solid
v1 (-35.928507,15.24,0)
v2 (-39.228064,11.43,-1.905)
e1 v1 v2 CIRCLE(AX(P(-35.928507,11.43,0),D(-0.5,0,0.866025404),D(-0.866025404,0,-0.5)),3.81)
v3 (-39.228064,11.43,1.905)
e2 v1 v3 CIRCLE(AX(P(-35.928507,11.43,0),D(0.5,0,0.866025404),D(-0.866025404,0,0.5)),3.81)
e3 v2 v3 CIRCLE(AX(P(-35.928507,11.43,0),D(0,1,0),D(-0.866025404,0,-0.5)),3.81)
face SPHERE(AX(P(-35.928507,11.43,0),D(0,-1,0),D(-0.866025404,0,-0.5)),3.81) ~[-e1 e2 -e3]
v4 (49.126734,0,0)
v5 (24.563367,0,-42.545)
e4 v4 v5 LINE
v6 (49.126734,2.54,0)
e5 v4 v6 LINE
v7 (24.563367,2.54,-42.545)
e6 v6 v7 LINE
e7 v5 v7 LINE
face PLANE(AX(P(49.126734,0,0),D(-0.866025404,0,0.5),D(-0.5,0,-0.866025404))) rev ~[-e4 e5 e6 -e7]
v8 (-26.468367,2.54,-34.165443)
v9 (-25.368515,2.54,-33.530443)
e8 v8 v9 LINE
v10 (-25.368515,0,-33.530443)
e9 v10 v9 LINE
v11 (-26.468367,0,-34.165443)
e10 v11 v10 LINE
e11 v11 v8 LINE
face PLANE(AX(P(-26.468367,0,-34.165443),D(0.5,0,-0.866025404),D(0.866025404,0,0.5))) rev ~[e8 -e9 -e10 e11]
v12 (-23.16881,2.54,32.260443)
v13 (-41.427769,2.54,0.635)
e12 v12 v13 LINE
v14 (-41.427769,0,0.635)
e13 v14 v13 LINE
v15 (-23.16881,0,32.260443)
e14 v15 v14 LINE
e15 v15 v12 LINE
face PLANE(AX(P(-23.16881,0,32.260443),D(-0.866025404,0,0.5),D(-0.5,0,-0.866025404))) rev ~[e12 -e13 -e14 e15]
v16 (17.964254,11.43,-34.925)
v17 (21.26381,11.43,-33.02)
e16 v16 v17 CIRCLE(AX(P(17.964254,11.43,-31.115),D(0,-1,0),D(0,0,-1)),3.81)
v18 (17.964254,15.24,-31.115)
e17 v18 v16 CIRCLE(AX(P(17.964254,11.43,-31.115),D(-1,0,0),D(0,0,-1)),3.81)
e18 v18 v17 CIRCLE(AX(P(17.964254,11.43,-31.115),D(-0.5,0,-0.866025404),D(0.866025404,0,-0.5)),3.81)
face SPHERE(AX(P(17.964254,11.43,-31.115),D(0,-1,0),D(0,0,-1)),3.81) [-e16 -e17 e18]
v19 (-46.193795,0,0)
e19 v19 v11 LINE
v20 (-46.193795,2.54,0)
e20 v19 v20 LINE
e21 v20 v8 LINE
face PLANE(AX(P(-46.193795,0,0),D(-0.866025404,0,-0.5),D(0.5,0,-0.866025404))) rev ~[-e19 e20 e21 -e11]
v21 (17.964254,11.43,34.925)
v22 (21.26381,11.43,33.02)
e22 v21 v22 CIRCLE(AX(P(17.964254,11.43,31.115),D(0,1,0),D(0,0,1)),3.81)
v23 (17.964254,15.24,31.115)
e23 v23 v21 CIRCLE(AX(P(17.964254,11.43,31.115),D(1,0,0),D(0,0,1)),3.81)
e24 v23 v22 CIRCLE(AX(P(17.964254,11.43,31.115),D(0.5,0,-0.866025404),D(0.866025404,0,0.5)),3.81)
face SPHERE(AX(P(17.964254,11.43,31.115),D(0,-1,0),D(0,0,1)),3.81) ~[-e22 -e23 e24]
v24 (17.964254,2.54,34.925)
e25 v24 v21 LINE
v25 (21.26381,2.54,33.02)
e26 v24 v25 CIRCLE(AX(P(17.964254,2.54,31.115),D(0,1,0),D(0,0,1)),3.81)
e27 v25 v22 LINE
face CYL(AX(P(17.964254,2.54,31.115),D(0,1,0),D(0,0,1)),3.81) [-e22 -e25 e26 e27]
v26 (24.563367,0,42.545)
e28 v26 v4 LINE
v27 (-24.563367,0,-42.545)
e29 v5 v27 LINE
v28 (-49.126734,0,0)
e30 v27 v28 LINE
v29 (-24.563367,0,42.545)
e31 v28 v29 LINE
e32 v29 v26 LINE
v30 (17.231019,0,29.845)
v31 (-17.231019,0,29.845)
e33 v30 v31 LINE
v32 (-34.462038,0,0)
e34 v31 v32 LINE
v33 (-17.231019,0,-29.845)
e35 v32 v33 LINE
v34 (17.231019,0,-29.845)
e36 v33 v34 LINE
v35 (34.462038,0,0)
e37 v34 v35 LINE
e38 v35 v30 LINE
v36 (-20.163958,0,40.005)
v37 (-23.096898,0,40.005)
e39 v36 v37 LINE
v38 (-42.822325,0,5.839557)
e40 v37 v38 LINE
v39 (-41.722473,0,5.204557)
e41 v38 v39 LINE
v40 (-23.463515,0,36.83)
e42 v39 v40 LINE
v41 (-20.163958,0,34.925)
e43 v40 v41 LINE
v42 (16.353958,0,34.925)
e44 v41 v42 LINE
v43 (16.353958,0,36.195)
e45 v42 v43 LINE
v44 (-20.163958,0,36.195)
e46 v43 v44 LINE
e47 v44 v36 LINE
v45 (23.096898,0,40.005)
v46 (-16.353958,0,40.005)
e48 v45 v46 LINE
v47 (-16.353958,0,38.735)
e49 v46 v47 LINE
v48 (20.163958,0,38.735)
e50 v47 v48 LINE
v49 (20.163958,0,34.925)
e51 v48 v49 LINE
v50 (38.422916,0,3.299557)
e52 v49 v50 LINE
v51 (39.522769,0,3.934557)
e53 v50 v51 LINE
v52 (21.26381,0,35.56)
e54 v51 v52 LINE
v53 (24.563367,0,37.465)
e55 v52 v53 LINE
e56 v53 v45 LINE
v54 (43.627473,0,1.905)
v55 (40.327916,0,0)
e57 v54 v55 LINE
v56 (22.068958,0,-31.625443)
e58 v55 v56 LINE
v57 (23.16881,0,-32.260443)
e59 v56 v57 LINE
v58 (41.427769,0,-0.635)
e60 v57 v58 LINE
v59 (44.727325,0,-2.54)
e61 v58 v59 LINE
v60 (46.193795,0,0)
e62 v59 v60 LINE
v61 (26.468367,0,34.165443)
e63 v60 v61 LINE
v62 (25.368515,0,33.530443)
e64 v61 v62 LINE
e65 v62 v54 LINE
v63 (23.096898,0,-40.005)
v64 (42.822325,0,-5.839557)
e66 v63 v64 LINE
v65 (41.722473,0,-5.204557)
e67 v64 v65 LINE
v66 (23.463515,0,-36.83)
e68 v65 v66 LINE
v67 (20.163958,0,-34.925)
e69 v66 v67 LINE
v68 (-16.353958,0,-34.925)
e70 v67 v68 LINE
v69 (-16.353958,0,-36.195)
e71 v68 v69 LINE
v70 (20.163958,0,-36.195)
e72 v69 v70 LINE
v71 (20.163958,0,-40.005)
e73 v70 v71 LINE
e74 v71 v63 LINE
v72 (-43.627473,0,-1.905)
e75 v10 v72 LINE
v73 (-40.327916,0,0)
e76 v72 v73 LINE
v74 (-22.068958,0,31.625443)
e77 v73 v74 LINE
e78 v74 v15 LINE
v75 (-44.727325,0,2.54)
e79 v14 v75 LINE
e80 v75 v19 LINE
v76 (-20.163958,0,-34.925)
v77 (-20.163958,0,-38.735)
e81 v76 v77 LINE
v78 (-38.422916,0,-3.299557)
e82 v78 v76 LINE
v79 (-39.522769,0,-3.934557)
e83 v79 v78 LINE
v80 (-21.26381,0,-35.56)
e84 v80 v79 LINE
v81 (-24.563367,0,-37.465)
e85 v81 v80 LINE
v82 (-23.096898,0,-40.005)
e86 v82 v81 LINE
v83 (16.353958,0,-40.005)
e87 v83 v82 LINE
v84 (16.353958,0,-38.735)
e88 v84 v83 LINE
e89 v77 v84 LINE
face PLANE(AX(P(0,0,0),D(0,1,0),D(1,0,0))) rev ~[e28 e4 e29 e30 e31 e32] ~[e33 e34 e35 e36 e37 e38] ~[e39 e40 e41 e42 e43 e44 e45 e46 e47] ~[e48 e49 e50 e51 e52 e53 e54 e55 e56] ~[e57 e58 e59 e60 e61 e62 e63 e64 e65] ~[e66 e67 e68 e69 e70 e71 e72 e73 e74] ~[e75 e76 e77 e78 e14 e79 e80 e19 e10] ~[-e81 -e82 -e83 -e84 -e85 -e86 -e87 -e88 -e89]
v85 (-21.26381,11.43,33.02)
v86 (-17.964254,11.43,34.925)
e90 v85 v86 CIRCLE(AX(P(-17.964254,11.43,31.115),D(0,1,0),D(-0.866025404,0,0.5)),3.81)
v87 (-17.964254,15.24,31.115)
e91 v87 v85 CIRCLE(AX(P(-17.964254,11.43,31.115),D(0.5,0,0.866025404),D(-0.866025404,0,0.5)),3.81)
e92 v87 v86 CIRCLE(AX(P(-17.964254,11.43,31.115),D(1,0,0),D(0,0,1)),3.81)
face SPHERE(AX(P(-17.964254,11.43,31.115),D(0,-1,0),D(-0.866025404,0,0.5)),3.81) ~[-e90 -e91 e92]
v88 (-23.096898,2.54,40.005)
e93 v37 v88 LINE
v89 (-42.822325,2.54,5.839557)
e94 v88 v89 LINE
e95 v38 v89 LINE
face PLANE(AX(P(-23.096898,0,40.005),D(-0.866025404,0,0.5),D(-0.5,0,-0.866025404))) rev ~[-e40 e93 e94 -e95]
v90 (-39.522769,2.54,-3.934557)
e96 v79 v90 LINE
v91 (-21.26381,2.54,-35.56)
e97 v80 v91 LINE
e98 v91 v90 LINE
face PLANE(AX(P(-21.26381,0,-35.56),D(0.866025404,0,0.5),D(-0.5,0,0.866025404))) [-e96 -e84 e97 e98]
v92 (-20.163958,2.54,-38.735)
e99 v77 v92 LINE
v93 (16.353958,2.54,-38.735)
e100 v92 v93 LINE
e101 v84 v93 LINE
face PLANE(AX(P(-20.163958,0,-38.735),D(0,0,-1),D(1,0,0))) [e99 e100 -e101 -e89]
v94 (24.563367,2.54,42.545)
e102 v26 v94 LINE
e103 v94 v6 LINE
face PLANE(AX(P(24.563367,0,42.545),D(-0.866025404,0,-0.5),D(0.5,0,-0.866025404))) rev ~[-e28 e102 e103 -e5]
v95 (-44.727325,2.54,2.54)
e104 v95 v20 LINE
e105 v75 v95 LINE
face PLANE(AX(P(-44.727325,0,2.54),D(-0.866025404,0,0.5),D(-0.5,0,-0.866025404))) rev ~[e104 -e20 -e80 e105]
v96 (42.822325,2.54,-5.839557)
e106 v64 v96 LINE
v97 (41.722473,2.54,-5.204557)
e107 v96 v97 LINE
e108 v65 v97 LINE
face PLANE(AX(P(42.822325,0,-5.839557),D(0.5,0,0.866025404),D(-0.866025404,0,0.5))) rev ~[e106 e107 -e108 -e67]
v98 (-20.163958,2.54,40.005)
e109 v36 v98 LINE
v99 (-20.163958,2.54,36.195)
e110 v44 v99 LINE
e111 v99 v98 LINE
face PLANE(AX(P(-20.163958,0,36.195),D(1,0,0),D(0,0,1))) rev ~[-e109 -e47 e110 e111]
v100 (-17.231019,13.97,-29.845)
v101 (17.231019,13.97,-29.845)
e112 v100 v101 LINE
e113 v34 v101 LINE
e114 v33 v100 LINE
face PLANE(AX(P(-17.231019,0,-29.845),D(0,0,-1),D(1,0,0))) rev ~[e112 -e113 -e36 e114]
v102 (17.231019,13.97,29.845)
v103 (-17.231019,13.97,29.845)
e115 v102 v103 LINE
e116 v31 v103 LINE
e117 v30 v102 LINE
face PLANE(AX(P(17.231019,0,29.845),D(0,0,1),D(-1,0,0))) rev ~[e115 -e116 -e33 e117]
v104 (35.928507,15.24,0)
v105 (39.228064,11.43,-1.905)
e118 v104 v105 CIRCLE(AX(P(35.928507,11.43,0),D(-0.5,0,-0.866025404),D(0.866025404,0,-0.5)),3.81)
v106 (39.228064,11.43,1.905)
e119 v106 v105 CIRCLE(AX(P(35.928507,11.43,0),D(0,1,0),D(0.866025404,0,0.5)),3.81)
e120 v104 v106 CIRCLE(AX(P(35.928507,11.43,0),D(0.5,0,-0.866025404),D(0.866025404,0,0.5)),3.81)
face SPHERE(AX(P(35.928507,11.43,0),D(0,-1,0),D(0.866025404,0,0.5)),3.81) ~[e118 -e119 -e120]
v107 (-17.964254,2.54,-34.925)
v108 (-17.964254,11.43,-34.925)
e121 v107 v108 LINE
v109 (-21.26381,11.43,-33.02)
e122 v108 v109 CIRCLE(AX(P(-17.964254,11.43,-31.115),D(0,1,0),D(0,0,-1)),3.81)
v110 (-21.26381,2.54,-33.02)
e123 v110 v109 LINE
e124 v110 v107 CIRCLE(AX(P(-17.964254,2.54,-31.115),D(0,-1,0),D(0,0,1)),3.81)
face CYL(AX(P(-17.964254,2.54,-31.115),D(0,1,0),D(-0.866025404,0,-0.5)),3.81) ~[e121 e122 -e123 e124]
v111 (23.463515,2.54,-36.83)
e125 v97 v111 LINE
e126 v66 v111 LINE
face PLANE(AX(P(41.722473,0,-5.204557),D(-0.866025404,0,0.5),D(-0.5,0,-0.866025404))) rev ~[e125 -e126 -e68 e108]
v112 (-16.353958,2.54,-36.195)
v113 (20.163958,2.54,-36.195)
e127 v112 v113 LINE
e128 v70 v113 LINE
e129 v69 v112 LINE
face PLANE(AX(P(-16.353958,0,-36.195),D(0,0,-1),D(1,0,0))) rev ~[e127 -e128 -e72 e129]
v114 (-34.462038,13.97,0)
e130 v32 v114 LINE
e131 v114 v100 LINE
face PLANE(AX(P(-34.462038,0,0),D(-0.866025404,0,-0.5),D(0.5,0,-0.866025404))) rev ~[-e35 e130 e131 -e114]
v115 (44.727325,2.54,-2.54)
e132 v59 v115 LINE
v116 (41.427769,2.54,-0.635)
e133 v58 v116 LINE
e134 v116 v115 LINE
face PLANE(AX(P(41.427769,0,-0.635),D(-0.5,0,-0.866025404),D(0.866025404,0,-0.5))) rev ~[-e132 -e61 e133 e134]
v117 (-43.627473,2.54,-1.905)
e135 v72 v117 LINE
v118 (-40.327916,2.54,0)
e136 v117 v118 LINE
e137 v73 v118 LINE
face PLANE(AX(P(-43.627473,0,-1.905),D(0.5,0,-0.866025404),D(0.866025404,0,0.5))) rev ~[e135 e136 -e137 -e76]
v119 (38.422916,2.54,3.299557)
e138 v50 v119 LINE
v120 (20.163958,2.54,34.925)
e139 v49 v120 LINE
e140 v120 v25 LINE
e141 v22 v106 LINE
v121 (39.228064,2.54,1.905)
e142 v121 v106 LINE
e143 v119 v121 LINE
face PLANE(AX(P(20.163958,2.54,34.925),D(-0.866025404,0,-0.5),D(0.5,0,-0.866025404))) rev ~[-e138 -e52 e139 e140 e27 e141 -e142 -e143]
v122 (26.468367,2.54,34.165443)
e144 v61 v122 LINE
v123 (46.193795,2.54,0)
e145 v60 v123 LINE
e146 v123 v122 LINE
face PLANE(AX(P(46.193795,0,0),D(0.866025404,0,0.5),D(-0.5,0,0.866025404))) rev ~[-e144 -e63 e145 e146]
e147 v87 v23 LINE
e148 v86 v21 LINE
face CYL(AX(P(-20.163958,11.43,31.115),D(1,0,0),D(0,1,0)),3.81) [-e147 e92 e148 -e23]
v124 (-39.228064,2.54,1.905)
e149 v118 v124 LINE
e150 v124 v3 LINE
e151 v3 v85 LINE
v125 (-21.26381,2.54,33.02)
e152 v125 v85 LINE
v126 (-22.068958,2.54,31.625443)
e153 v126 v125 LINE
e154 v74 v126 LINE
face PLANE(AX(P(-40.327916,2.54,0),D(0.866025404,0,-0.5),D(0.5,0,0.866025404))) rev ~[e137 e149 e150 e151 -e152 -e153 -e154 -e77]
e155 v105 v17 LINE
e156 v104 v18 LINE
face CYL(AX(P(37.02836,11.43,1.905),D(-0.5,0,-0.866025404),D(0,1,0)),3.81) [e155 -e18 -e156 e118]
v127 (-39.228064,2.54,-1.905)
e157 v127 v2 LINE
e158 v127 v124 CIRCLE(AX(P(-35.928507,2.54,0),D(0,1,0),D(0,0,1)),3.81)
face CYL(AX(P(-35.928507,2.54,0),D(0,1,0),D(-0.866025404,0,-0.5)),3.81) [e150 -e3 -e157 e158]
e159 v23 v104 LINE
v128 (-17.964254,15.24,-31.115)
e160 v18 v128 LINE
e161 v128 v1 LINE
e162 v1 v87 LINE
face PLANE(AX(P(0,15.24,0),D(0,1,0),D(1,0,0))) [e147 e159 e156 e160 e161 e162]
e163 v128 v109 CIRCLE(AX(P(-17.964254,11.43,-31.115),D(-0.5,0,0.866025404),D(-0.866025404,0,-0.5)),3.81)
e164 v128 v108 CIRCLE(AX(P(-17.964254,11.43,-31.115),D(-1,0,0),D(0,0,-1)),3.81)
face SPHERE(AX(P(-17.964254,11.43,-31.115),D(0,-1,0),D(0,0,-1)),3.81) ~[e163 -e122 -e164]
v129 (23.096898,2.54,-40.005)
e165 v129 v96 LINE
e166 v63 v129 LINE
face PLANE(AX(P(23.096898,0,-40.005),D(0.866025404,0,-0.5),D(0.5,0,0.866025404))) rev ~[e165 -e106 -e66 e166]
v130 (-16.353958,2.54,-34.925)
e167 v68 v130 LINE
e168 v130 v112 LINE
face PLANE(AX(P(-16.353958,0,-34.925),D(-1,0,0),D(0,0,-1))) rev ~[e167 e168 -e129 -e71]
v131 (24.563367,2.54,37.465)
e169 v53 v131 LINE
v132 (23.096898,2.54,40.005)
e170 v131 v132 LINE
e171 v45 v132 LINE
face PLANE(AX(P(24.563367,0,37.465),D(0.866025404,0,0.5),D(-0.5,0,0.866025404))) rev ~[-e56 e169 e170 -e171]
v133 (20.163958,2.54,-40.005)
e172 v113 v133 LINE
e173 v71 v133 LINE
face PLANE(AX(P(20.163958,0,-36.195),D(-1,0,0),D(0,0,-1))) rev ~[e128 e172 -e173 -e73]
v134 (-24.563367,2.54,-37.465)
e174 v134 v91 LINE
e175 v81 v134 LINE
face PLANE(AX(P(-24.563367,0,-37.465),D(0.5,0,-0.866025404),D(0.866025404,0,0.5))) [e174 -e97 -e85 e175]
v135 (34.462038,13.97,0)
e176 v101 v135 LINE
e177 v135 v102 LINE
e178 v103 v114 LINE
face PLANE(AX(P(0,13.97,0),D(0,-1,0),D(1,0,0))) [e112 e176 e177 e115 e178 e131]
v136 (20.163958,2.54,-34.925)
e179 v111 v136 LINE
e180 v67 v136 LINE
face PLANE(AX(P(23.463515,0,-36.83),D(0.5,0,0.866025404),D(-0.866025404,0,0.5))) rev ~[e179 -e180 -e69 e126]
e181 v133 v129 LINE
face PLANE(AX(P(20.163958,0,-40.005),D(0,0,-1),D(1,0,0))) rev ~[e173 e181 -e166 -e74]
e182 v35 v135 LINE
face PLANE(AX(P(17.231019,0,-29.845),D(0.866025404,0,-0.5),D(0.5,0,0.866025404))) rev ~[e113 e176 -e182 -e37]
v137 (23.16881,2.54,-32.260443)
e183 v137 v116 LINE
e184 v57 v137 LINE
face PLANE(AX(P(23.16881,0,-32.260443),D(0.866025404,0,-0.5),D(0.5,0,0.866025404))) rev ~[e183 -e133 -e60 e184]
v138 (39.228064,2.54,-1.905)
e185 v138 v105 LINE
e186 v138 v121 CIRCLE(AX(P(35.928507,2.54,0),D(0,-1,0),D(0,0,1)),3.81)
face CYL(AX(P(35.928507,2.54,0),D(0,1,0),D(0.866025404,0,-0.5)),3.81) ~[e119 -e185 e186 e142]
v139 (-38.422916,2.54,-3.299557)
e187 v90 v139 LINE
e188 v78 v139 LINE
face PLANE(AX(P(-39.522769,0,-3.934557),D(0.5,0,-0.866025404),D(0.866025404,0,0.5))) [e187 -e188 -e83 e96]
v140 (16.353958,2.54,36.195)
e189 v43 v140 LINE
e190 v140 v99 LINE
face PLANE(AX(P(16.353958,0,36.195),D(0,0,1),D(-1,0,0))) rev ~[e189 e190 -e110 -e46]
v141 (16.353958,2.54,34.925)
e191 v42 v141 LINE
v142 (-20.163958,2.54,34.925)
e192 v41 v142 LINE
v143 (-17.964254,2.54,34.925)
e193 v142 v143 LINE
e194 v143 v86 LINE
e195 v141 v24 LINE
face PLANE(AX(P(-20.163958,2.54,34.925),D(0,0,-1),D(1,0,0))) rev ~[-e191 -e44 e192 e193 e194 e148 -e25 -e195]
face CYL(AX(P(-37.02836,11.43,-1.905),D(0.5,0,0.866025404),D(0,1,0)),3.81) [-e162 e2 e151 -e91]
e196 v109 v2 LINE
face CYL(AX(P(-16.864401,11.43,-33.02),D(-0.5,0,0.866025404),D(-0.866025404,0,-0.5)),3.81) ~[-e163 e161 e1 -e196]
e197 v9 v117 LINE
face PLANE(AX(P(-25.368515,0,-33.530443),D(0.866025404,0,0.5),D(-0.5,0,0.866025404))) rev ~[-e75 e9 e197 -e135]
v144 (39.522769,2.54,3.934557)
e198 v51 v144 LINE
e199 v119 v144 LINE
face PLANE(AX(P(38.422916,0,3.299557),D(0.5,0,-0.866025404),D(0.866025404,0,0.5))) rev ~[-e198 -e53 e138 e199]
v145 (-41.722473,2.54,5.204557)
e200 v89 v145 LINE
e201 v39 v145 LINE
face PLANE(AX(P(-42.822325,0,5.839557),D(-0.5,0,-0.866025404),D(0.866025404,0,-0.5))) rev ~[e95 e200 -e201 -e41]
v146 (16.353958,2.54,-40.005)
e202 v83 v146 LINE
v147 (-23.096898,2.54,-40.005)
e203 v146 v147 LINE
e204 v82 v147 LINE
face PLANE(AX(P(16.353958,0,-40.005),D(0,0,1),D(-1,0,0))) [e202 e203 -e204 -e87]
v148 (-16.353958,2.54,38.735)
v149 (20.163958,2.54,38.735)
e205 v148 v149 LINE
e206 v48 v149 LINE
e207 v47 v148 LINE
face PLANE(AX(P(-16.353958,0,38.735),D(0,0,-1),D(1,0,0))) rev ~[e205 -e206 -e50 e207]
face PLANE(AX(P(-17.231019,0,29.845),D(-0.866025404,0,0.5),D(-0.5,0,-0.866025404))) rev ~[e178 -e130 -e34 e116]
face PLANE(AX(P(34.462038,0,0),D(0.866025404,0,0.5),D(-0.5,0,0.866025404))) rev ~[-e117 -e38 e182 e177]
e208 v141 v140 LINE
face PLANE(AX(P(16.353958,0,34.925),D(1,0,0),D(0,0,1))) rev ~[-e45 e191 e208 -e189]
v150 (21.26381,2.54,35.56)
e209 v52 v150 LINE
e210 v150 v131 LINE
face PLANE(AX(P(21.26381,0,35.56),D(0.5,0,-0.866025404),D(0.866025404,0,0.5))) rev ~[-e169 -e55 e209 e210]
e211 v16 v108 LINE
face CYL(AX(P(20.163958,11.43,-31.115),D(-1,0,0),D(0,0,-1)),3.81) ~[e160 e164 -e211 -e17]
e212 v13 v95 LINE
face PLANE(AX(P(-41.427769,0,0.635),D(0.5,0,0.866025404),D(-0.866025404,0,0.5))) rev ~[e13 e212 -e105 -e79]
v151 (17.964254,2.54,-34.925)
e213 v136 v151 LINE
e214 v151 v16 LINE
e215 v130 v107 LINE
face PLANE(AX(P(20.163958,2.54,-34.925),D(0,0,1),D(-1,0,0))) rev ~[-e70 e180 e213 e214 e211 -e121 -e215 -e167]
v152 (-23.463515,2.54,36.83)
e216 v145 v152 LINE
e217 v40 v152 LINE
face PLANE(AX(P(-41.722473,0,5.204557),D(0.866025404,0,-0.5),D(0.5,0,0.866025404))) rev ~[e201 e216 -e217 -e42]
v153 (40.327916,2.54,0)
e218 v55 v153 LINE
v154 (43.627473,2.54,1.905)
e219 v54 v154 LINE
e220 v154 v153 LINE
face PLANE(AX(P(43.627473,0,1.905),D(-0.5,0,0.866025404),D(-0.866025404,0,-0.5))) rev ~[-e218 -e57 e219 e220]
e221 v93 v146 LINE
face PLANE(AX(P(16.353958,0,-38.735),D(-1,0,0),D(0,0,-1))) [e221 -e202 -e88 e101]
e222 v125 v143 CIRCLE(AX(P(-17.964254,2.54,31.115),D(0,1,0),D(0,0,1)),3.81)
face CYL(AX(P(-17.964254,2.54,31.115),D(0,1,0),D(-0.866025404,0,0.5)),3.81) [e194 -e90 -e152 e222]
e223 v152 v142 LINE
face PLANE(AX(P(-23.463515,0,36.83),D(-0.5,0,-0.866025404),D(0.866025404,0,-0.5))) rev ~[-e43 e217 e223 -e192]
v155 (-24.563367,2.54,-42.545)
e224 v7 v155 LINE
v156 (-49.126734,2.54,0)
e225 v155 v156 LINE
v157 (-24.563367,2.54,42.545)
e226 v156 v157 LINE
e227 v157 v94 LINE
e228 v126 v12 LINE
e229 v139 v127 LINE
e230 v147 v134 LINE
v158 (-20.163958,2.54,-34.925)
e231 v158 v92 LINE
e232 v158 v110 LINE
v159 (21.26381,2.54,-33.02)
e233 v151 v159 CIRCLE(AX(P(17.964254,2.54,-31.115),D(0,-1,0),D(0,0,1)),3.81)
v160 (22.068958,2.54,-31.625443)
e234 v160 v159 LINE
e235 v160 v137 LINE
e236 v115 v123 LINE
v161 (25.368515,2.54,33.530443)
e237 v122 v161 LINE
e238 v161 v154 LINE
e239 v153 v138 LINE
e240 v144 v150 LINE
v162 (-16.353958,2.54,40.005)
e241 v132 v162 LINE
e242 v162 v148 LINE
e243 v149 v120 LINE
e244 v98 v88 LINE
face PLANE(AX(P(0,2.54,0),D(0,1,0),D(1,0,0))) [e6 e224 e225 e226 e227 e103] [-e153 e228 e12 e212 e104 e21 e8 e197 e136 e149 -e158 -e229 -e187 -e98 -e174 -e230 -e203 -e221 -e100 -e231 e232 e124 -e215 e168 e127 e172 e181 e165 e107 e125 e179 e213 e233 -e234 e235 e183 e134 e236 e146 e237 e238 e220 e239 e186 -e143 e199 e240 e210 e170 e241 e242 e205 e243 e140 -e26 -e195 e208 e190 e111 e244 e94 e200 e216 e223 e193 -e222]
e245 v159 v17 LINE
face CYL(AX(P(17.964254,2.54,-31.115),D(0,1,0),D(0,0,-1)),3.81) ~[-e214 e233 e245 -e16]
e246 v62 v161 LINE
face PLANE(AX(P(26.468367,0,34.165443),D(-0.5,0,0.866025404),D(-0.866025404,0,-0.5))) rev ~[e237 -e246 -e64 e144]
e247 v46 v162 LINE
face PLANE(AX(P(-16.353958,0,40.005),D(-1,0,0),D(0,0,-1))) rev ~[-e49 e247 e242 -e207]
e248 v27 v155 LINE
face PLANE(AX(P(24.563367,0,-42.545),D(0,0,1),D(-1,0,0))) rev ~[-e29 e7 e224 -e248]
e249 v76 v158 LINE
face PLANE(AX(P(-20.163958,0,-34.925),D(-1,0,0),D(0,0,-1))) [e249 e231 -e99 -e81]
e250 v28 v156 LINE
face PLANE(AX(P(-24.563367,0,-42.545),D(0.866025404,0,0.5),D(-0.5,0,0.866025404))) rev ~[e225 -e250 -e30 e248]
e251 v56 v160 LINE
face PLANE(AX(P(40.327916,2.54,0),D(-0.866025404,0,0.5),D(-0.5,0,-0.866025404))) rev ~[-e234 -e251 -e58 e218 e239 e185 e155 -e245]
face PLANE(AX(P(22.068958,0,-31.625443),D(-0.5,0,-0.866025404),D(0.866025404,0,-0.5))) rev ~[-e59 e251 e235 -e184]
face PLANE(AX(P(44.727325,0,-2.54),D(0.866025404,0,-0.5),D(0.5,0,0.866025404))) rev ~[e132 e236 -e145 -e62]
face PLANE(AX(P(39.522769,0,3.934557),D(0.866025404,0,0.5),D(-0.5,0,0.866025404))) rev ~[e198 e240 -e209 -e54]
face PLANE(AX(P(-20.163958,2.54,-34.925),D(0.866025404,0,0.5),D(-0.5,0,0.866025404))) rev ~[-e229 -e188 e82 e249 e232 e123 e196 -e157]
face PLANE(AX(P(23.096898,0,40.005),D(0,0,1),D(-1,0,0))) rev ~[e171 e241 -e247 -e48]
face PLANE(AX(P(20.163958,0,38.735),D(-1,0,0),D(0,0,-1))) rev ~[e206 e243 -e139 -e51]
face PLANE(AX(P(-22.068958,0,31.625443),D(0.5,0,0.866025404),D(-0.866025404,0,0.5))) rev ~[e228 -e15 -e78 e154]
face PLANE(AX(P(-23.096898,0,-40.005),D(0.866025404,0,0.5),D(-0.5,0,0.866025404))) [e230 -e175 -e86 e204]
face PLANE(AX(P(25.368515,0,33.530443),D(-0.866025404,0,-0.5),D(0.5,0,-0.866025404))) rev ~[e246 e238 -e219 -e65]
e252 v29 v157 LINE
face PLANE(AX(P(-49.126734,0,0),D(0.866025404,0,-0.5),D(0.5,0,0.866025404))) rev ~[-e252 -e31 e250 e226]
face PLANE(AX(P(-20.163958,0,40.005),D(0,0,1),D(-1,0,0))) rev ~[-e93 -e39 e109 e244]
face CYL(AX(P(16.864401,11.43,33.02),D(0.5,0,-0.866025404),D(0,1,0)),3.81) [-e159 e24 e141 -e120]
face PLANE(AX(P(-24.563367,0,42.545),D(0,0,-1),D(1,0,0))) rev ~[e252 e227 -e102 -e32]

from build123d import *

# Parameters (mm, degrees)
BOSS_EXTRUDE2_DEPTH = 2.54
BOSS_EXTRUDE3_DEPTH = 12.7
CUT_EXTRUDE1_DEPTH  = 13.97
FILLET1_R           = 3.8099999999999996


with BuildPart() as part:
    # Sketch1 → Boss-Extrude2 (new body)
    with BuildSketch(Plane(origin=(0, 0, 0), x_dir=(1, 0, 0), z_dir=(0, 1, 0))):
        Polygon((49.12673440534523, 7.27e-15), (24.56336720267261, 42.545), (-24.56336720267263, 42.544999999999995), (-49.12673440534525, -4.56e-15), (-24.56336720267264, -42.545), (24.56336720267261, -42.545), align=None)
        Polygon((-23.09689751893098, 40.004999999999995), (-24.56336720267272, 37.465000000000906), (-21.263810414254024, 35.560000000000905), (-39.522768565701696, 3.9345567884195773), (-38.42291630289545, 3.299556788419578), (-20.163958151447684, 34.925), (-20.163958151447687, 38.735), (16.353958151447667, 38.735), (16.353958151447667, 40.004999999999995), align=None, mode=Mode.SUBTRACT)
        Polygon((20.1639581514492, -34.92499999999734), (38.42291630289649, -3.299556788416705), (39.52276856570363, -3.934556788417227), (21.263810414255218, -35.55999999999977), (24.56336720267305, -37.464999999999264), (23.096897518930962, -40.004999999999995), (-16.353958151447596, -40.0049999999992), (-16.353958151447596, -38.7350000000008), (20.1639581514492, -38.7350000000008), align=None, mode=Mode.SUBTRACT)
        Polygon((40.32791630289463, 1.40742e-12), (22.06895815144691, 31.625443211581366), (23.168810414254217, 32.26044321158198), (41.42776856570169, 0.6350000000010452), (44.727325354119536, 2.540000000000058), (46.19379503786194, 0), (26.468367202673054, -34.16544321158055), (25.368514939866817, -33.53044321158055), (43.62747309131447, -1.9049999999993157), align=None, mode=Mode.SUBTRACT)
        Polygon((20.16395815144767, 34.925), (-16.35395815144768, 34.925), (-16.35395815144768, 36.195), (20.16395815144767, 36.195), (20.163958151447673, 40.004999999999995), (23.096897518930962, 40.004999999999995), (42.82232535411953, 5.839556788418761), (41.7224730913133, 5.204556788418767), (23.4635149398656, 36.83000000000007), align=None, mode=Mode.SUBTRACT)
        Polygon((-40.32791630289535, 3.53e-15), (-22.068958151447685, -31.6254432115805), (-23.168810414253926, -32.26044321158051), (-41.427768565701626, -0.634999999999201), (-44.72732535412034, -2.5399999999991967), (-46.19379503786196, -8.7e-16), (-26.468367202672724, 34.16544321158219), (-25.368514939866504, 33.530443211582195), (-43.62747309131417, 1.9050000000008698), align=None, mode=Mode.SUBTRACT)
        Polygon((-20.163958151444543, -34.92499999999999), (16.35395815144779, -34.924999999999194), (16.353958151447785, -36.19500000000081), (-20.1639581514476, -36.19500000000081), (-20.1639581514476, -40.00499999999919), (-23.09689751893098, -40.004999999999995), (-42.82232535412034, -5.839556788417916), (-41.72247309131411, -5.204556788417918), (-23.46351493986529, -36.83000000000117), align=None, mode=Mode.SUBTRACT)
    extrude(amount=BOSS_EXTRUDE2_DEPTH)

    # Sketch2 → Boss-Extrude3 (add)
    with BuildSketch(Plane(origin=(0, 2.54, 0), x_dir=(1, 0, 0), z_dir=(0, 1, 0))):
        Polygon((-20.163958151447684, 34.925), (-40.32791630289537, -2.429e-14), (-20.163958151447673, -34.92500000000001), (20.163958151447694, -34.92500000000001), (40.32791630289537, 2.74e-15), (20.163958151447677, 34.925), align=None)
    extrude(amount=BOSS_EXTRUDE3_DEPTH)

    # Sketch3 → Cut-Extrude1 (cut)
    with BuildSketch(Plane.XZ):
        Polygon((17.23101878396438, -29.844999999999995), (34.46203756792874, 9.8e-15), (17.231018783964352, 29.845000000000006), (-17.231018783964387, 29.845000000000002), (-34.46203756792876, -6.96e-15), (-17.231018783964384, -29.84499999999999), align=None)
    extrude(amount=-CUT_EXTRUDE1_DEPTH, mode=Mode.SUBTRACT)

    # Fillet1
    fillet1_edges = [part.edges().sort_by_distance(p)[0] for p in [
        (20.163958151447677, 8.89, -34.925),
        (-20.163958151447684, 8.89, -34.925),
        (-40.32791630289537, 8.89, 2.429e-14),
        (-20.163958151447673, 8.89, 34.92500000000001),
        (20.163958151447694, 8.89, 34.92500000000001),
        (40.32791630289537, 8.89, -2.74e-15),
        (-3.55e-15, 15.239999999999998, -34.925),
        (-30.245937227171524, 15.239999999999998, -17.462499999999988),
        (-30.24593722717152, 15.239999999999998, 17.46250000000002),
        (1.066e-14, 15.239999999999998, 34.92500000000001),
        (30.24593722717153, 15.239999999999998, 17.462500000000006),
        (30.245937227171524, 15.239999999999998, -17.462500000000002),
    ]]
    fillet(fillet1_edges, radius=FILLET1_R)


solid = part.part
